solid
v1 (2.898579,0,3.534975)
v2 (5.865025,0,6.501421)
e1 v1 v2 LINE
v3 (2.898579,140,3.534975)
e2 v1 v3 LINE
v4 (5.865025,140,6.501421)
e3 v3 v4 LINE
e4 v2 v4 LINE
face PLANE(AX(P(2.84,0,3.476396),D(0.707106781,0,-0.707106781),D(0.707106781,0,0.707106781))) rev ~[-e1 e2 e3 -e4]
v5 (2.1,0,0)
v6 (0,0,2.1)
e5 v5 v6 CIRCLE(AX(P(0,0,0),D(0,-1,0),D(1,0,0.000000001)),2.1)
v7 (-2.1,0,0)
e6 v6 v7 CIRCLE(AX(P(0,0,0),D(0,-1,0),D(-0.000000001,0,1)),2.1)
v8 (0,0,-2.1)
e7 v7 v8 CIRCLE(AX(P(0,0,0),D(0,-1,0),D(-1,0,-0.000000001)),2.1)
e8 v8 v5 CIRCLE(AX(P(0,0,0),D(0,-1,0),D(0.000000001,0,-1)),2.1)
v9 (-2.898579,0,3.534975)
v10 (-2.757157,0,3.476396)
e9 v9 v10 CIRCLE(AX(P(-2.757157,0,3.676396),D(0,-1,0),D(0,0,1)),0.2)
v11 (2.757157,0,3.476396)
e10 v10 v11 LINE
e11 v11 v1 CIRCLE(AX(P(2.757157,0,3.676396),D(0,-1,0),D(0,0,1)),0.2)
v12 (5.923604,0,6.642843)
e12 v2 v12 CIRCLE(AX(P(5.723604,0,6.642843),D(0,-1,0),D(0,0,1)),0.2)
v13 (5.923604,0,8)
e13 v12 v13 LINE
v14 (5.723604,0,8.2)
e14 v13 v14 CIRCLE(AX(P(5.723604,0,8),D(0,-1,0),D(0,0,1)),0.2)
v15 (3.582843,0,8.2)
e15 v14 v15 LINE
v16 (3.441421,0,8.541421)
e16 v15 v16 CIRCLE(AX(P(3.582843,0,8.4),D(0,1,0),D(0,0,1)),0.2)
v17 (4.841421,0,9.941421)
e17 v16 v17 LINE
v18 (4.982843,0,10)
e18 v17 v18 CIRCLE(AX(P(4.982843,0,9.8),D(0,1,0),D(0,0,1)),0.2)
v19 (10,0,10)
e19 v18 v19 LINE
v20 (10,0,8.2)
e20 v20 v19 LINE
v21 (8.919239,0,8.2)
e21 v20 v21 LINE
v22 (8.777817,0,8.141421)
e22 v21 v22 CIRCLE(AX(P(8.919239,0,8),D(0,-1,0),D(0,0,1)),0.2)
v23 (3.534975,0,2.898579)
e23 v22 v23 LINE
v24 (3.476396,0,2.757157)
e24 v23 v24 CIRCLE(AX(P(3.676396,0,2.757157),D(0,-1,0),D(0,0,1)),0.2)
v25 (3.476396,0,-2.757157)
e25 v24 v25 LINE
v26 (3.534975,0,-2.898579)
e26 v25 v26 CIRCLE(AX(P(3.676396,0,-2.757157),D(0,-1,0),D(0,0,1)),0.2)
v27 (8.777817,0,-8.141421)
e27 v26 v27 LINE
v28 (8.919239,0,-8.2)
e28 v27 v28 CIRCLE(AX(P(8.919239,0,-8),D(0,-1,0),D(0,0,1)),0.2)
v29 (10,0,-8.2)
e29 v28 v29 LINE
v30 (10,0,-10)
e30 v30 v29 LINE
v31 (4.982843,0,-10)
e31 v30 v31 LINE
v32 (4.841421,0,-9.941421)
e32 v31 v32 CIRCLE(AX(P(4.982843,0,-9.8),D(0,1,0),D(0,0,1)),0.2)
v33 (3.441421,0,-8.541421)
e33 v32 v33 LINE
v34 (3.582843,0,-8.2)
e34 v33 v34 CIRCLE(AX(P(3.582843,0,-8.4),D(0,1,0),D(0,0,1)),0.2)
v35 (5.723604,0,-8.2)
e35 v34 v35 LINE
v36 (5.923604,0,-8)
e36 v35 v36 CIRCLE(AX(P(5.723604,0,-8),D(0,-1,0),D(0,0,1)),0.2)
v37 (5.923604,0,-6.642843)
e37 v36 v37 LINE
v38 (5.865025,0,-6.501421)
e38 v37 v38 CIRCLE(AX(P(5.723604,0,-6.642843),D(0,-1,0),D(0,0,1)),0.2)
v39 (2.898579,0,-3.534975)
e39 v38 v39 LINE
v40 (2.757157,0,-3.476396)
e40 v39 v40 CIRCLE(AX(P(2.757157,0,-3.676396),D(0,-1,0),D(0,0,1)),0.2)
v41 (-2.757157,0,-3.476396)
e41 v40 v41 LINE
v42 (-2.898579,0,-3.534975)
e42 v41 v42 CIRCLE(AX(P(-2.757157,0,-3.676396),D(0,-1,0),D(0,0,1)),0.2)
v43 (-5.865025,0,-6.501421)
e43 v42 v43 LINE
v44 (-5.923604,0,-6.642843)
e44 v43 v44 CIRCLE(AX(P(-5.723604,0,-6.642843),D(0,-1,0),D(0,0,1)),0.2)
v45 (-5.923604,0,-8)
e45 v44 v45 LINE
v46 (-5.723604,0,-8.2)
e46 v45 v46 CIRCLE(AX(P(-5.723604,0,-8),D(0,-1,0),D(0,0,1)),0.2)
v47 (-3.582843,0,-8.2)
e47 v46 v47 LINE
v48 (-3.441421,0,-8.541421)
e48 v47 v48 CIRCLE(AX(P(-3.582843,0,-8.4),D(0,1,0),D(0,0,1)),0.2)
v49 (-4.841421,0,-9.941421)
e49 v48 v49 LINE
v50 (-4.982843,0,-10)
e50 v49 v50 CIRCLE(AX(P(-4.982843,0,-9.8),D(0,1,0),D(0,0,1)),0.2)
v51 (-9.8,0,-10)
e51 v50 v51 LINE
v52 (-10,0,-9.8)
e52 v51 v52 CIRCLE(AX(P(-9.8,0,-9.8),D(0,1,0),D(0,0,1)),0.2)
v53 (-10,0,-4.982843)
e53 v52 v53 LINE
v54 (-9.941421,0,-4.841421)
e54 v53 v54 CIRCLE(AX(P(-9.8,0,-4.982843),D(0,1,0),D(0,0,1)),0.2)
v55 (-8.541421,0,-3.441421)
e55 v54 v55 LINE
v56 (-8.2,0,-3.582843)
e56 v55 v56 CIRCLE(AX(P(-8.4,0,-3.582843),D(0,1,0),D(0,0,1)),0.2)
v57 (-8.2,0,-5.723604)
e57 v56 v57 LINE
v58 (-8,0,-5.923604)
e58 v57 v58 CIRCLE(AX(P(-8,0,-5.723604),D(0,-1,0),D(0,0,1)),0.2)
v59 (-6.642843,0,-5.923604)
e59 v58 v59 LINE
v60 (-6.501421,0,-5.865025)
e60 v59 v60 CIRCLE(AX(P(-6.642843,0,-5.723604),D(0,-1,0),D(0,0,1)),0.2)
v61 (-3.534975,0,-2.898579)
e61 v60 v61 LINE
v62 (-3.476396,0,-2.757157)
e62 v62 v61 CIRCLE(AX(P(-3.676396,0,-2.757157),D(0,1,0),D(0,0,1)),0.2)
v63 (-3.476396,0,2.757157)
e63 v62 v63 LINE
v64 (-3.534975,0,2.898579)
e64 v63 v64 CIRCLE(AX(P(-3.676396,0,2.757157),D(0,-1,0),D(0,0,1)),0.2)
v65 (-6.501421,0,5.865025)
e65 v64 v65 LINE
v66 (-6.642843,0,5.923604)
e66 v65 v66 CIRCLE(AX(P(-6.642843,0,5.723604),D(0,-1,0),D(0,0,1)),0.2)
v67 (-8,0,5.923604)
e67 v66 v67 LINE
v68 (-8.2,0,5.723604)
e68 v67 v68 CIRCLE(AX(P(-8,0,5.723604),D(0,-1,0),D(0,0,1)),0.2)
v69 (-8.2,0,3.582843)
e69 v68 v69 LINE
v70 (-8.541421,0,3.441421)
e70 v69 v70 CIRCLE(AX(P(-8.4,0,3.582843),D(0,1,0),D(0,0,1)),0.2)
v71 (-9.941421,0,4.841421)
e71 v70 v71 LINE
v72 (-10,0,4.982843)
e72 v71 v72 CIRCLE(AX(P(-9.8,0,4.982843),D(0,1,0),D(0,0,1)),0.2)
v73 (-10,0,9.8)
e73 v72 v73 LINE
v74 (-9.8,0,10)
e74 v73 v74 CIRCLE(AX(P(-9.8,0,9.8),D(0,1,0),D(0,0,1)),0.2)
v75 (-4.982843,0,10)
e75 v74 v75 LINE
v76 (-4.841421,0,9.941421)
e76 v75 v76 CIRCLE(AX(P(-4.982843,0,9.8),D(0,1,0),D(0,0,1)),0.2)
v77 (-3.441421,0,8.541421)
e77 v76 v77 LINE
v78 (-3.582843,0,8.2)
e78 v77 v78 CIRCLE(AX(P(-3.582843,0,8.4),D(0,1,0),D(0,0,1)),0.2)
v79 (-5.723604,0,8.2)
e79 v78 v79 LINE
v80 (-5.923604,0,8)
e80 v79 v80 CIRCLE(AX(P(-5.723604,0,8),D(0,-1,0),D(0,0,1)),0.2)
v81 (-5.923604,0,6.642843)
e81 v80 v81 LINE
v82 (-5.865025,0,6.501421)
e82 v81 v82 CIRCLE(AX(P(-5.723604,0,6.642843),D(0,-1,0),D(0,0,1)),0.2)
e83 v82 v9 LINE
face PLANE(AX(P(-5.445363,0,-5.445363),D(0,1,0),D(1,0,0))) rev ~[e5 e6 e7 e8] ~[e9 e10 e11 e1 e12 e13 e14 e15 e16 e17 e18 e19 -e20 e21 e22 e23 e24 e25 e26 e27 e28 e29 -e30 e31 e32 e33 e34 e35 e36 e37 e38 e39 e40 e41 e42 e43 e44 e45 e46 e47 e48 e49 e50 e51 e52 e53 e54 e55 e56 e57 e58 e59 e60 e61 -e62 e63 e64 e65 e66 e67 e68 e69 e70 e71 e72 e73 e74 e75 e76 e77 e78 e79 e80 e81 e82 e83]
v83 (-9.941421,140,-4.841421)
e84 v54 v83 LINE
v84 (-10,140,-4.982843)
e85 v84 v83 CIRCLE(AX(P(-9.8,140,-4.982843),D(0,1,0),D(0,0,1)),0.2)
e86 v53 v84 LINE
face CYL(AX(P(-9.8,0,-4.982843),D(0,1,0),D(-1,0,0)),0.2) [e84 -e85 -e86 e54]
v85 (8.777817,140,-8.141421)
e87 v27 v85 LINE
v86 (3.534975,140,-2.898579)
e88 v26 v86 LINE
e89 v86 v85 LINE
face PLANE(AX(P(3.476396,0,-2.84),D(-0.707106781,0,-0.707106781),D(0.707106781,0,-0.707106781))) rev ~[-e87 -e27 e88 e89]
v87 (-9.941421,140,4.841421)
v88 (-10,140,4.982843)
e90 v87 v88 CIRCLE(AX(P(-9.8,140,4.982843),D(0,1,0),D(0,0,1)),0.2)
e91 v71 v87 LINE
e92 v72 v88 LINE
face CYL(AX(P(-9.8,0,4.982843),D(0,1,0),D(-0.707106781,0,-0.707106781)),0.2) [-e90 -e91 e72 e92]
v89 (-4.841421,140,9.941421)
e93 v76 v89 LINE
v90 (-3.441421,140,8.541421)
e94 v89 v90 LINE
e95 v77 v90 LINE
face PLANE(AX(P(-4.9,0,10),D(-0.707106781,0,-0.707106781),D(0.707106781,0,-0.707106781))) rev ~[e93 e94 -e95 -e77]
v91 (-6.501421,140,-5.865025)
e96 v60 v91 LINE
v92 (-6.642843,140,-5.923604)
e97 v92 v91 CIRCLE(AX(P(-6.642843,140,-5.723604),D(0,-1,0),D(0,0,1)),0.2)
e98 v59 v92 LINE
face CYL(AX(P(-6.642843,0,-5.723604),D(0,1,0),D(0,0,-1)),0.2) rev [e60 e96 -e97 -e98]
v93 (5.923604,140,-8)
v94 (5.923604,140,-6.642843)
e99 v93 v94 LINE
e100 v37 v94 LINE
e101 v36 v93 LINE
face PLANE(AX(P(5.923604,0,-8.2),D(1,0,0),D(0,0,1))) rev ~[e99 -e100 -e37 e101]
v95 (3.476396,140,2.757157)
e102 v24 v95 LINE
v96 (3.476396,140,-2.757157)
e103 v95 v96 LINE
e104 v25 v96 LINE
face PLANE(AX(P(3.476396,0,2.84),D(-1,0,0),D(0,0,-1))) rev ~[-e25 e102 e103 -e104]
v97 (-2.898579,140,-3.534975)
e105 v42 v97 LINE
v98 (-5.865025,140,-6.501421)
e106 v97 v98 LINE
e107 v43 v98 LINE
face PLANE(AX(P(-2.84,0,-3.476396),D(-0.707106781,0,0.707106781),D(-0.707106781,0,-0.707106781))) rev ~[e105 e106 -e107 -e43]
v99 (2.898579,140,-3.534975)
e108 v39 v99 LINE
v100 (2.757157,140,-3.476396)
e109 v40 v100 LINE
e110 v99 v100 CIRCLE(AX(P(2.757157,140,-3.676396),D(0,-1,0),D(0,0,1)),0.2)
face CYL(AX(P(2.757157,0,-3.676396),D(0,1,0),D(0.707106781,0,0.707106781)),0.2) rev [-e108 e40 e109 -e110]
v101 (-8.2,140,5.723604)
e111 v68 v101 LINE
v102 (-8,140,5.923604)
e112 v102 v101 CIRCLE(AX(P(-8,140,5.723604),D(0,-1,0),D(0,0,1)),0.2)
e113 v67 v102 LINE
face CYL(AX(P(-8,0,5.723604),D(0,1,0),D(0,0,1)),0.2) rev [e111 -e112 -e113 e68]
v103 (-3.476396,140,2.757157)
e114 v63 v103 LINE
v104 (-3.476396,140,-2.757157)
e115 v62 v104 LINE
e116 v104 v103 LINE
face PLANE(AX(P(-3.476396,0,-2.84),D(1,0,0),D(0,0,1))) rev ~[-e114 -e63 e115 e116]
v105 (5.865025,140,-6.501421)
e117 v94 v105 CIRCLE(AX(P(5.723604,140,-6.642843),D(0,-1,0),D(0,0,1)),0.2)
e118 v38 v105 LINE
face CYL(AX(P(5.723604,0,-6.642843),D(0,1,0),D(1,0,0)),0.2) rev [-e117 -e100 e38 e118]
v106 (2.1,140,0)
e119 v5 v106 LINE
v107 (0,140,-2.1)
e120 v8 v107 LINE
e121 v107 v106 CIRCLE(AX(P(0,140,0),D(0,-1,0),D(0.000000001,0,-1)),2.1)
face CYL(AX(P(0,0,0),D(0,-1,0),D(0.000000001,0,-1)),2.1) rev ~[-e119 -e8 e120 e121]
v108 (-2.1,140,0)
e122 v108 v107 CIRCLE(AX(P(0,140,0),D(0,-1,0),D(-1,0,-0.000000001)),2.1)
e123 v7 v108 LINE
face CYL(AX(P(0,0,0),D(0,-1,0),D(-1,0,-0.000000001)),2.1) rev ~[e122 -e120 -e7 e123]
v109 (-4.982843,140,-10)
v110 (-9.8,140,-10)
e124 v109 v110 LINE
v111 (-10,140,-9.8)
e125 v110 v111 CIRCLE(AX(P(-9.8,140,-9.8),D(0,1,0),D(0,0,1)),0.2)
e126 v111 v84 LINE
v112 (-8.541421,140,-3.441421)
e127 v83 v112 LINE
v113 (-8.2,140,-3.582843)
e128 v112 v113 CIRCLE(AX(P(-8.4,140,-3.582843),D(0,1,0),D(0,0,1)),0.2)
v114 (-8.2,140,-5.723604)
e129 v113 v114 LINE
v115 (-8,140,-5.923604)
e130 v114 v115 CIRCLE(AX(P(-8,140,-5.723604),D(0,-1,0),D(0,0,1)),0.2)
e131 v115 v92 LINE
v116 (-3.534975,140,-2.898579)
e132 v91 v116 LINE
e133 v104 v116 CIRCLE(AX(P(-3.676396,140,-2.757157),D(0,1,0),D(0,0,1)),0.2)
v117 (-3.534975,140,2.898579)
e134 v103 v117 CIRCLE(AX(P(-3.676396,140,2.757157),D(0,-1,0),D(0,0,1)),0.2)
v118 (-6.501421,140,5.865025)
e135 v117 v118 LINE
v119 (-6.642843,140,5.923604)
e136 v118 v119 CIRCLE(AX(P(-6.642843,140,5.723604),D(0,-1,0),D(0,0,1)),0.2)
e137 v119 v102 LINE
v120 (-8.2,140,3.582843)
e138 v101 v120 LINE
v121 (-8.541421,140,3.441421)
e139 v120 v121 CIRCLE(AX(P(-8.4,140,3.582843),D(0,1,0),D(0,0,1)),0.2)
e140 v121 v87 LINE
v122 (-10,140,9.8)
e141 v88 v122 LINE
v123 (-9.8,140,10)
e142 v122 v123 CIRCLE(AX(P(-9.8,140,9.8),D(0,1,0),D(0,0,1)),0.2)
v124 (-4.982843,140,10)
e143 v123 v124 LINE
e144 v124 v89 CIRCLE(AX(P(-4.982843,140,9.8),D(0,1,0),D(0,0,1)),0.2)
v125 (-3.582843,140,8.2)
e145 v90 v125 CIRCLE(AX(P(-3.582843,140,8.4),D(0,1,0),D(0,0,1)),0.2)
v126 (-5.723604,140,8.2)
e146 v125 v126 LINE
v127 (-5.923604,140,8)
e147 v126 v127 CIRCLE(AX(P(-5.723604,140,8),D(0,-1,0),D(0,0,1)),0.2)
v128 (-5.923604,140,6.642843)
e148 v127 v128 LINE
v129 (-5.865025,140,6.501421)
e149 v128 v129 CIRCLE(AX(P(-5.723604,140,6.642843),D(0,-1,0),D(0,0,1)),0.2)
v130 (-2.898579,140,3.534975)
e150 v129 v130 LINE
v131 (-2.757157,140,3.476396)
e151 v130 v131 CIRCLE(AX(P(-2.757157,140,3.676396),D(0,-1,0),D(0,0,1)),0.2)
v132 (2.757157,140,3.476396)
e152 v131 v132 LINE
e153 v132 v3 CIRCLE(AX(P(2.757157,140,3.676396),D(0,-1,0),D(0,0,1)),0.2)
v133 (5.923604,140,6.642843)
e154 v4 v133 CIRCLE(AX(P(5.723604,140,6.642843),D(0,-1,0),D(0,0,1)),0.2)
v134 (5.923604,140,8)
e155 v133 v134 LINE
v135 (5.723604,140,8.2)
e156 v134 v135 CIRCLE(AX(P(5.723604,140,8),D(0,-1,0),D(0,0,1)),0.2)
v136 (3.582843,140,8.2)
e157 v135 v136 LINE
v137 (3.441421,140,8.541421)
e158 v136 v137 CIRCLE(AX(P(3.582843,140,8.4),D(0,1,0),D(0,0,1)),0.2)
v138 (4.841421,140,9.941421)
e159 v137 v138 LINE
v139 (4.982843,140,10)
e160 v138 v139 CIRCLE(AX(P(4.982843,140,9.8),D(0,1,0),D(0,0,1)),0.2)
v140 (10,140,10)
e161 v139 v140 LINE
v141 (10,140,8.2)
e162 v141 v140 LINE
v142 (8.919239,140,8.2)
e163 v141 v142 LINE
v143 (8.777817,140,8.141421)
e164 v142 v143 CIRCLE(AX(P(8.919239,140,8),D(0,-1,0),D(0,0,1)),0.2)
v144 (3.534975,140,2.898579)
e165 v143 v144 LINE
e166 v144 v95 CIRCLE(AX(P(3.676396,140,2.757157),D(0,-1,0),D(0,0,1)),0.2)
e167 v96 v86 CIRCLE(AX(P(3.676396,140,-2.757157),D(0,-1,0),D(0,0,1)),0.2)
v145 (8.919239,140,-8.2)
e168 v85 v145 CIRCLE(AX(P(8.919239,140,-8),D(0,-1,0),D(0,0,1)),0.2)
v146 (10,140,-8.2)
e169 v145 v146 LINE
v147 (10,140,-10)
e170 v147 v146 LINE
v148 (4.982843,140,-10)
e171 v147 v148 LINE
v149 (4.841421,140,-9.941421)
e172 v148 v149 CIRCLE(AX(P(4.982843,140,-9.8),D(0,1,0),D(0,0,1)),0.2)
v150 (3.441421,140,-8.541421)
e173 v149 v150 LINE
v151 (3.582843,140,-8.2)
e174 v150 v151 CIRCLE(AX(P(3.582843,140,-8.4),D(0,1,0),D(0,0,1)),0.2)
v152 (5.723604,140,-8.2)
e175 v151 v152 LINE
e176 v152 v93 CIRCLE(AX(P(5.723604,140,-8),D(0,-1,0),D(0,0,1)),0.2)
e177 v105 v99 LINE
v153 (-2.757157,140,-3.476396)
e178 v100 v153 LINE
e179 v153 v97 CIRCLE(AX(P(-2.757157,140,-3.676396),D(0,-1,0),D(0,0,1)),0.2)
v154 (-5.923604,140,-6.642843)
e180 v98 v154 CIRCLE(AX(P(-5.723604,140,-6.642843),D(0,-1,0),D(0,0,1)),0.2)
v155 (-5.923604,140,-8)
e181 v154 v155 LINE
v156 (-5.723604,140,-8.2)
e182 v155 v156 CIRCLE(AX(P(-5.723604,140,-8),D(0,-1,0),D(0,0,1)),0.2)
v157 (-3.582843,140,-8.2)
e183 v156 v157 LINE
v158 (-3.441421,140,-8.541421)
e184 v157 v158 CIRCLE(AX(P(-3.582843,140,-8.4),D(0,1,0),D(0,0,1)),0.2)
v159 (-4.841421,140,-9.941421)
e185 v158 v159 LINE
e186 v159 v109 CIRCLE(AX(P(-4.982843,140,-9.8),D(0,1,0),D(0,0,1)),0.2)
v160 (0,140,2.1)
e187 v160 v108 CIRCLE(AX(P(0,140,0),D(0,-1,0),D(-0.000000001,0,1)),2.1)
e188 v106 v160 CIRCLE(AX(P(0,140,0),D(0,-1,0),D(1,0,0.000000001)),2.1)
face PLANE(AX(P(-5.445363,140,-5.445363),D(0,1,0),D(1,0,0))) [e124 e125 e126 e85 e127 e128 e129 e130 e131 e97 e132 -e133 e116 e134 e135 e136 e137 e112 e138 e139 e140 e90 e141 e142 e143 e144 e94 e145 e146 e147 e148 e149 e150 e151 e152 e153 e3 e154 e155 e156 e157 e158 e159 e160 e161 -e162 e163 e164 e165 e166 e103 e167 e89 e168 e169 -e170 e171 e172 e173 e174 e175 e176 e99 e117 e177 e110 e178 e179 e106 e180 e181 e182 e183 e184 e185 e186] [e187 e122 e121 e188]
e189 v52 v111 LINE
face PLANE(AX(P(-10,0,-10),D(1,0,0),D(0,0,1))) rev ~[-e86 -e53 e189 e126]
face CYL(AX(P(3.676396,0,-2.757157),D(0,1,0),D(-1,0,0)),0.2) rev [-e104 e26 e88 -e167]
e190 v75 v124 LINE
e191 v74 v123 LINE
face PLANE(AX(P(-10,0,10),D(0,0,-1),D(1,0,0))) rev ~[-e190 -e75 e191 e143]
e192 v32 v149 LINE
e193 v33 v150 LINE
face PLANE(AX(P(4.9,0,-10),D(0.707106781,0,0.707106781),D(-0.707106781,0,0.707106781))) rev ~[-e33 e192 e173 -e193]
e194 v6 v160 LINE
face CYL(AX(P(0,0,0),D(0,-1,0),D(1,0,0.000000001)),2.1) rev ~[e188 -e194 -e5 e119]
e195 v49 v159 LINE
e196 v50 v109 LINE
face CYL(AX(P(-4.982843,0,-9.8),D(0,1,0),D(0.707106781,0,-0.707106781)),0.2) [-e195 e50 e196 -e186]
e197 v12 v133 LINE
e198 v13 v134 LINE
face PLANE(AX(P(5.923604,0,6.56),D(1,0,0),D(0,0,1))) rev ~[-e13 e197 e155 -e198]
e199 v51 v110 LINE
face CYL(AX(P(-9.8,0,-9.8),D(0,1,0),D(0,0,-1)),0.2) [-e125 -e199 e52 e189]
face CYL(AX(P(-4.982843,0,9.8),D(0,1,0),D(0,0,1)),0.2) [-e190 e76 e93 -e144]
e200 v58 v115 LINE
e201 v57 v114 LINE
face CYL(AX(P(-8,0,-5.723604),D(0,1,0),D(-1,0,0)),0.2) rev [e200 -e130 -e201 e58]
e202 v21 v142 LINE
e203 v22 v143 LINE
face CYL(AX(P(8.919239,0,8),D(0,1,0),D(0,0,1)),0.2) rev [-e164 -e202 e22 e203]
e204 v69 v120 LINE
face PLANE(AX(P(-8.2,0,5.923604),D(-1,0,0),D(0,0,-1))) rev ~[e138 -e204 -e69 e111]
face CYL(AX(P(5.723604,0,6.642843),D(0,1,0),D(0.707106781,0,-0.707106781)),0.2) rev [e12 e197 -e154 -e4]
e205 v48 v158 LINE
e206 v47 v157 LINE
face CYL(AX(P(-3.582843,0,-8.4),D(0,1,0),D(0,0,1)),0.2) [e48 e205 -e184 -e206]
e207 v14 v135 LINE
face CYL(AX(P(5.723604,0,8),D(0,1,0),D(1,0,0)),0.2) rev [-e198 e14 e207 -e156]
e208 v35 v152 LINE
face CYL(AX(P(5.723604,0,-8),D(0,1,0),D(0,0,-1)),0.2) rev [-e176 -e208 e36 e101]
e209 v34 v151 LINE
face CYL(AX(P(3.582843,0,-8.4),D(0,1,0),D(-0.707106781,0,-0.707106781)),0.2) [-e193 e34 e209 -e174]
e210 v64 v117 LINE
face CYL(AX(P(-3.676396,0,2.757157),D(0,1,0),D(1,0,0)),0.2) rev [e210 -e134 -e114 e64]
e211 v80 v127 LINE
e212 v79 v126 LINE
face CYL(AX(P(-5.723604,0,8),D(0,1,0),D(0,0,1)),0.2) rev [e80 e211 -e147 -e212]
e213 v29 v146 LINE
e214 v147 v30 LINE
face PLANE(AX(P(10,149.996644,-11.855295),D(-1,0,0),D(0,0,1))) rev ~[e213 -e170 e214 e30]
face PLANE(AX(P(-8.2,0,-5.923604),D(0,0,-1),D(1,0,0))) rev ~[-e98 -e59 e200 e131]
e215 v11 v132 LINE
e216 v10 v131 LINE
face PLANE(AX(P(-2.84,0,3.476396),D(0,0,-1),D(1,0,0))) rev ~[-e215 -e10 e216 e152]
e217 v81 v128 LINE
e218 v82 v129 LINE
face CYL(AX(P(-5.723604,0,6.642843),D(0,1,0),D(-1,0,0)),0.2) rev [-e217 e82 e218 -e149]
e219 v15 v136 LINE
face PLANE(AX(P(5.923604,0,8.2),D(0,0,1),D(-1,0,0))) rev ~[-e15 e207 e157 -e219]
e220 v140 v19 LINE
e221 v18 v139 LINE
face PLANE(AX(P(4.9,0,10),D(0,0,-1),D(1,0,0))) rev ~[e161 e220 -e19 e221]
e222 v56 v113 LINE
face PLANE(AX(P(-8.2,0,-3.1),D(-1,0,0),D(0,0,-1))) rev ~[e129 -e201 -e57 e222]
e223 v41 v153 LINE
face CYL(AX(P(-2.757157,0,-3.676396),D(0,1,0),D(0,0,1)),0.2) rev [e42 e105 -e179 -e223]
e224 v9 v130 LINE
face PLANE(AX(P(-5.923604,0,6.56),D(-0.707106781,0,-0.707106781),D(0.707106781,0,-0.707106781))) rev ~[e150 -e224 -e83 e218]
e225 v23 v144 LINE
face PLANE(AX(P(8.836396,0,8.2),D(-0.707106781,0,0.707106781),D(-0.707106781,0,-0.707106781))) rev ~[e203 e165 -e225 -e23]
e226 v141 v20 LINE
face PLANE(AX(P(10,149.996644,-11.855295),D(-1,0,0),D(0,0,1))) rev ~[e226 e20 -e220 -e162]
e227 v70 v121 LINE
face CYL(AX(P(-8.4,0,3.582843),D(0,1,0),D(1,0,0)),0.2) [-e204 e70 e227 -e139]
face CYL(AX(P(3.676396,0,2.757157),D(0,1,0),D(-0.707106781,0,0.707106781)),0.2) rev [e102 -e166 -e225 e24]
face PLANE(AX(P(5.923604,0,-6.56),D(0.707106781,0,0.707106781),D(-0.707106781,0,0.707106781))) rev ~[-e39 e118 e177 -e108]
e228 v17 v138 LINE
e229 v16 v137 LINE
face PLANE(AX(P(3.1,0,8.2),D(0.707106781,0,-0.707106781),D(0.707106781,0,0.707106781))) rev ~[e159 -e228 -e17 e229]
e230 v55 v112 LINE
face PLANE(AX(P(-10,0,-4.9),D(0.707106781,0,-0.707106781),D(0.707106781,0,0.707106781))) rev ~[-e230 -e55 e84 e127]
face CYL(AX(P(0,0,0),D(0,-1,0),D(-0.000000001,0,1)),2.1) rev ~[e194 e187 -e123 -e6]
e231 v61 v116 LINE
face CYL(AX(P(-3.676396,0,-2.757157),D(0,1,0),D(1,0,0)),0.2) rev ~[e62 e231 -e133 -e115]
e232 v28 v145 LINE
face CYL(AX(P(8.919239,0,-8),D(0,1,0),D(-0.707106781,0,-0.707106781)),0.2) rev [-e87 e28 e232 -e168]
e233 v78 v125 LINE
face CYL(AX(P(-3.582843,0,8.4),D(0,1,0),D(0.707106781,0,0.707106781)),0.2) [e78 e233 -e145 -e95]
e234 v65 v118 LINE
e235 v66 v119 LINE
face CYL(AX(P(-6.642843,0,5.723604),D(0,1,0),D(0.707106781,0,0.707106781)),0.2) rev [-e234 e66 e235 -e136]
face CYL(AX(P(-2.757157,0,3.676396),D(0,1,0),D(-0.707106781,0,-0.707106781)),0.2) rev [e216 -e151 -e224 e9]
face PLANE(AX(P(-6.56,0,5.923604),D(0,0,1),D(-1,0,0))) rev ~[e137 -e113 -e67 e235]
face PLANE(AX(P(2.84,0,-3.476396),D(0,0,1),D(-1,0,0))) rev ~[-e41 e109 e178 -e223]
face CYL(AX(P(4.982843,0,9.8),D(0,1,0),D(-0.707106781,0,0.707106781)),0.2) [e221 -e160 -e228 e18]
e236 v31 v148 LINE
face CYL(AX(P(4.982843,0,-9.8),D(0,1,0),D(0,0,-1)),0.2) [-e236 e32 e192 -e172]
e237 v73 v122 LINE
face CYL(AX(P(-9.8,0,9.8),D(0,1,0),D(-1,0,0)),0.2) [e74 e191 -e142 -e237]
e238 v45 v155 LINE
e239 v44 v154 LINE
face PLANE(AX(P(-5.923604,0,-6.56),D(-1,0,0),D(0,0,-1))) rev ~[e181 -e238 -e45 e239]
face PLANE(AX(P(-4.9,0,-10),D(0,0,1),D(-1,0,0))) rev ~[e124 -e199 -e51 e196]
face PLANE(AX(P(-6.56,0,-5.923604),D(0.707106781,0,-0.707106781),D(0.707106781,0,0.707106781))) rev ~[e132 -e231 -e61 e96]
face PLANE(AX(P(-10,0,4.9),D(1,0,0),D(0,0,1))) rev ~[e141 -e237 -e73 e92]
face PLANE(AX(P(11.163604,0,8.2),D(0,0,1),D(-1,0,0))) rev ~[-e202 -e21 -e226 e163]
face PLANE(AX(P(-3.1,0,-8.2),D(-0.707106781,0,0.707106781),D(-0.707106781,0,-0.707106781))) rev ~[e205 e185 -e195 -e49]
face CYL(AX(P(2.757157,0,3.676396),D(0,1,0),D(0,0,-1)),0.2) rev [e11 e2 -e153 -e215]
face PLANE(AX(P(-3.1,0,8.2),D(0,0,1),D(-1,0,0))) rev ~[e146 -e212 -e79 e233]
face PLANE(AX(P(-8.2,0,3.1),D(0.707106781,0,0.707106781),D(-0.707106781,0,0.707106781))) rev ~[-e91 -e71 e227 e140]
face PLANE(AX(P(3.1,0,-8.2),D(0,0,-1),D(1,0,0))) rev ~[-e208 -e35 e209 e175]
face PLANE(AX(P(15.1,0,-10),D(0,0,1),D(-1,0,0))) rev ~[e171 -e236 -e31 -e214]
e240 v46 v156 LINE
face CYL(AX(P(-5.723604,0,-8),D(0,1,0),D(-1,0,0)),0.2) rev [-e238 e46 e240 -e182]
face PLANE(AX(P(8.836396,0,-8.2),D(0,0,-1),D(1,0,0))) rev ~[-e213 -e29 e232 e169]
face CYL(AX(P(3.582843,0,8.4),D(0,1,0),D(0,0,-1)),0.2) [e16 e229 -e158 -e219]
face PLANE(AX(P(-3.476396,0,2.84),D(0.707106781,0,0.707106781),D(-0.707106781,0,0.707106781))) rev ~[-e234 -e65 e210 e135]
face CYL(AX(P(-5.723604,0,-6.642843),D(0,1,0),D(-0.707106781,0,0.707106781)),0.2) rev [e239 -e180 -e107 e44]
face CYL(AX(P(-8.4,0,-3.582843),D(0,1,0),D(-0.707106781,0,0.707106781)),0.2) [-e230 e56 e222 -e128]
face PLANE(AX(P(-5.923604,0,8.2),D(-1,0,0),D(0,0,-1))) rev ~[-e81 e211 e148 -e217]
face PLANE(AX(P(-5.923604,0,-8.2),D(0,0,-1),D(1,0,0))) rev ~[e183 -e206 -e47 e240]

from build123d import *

# Parameters (mm, degrees)
EXTRUDE_1_DEPTH          = 140
FILLET_1_R               = 0.2
CUT_EXTRUDE_1_DEPTH      = 149.996644258
CUT_EXTRUDE_1_DEPTH_BACK = 149.996644258
SKETCH_2_W               = 41.416635457
SKETCH_2_H               = 21.85529521


with BuildPart() as part:
    # 草图1 → 凸台-拉伸1 (new body)
    with BuildSketch(Plane(origin=(0, 0, 0), x_dir=(1, 0, 0), z_dir=(0, 1, 0))):
        with BuildLine():
            Line((-3.476396103, 2.84), (-3.476396103, 0))
            Line((-3.476396103, 0), (-2.1, 0))
            ThreePointArc((-2.1, 0), (-1.48492424, 1.48492424), (0, 2.1))
            Line((0, 2.1), (0, 3.476396103))
            Line((0, 3.476396103), (-2.84, 3.476396103))
            Line((-2.84, 3.476396103), (-5.923603897, 6.56))
            Line((-5.923603897, 6.56), (-5.923603897, 8.2))
            Line((-5.923603897, 8.2), (-3.1, 8.2))
            Line((-3.1, 8.2), (-4.9, 10))
            Line((-4.9, 10), (-10, 10))
            Line((-10, 10), (-10, 4.9))
            Line((-10, 4.9), (-8.2, 3.1))
            Line((-8.2, 3.1), (-8.2, 5.923603897))
            Line((-8.2, 5.923603897), (-6.56, 5.923603897))
            Line((-6.56, 5.923603897), (-3.476396103, 2.84))
        make_face()
        with BuildLine():
            Line((-2.1, 0), (-3.476396103, 0))
            Line((-3.476396103, 0), (-3.476396103, -2.84))
            Line((-3.476396103, -2.84), (-6.56, -5.923603897))
            Line((-6.56, -5.923603897), (-8.2, -5.923603897))
            Line((-8.2, -5.923603897), (-8.2, -3.1))
            Line((-8.2, -3.1), (-10, -4.9))
            Line((-10, -4.9), (-10, -10))
            Line((-10, -10), (-4.9, -10))
            Line((-4.9, -10), (-3.1, -8.2))
            Line((-3.1, -8.2), (-5.923603897, -8.2))
            Line((-5.923603897, -8.2), (-5.923603897, -6.56))
            Line((-5.923603897, -6.56), (-2.84, -3.476396103))
            Line((-2.84, -3.476396103), (0, -3.476396103))
            Line((0, -3.476396103), (0, -2.1))
            ThreePointArc((0, -2.1), (-1.48492424, -1.48492424), (-2.1, 0))
        make_face()
        with BuildLine():
            ThreePointArc((2.1, 0), (1.48492424, -1.48492424), (0, -2.1))
            Line((0, -2.1), (0, -3.476396103))
            Line((0, -3.476396103), (2.84, -3.476396103))
            Line((2.84, -3.476396103), (5.923603897, -6.56))
            Line((5.923603897, -6.56), (5.923603897, -8.2))
            Line((5.923603897, -8.2), (3.1, -8.2))
            Line((3.1, -8.2), (4.9, -10))
            Line((4.9, -10), (15.1, -10))
            Line((15.1, -10), (16.9, -8.2))
            Line((16.9, -8.2), (14.076396103, -8.2))
            Line((14.076396103, -8.2), (14.076396103, -6.56))
            Line((14.076396103, -6.56), (17.16, -3.476396103))
            Line((17.16, -3.476396103), (20, -3.476396103))
            Line((20, -3.476396103), (20, -2.1))
            ThreePointArc((20, -2.1), (18.51507576, -1.48492424), (17.9, 0))
            Line((17.9, 0), (16.523603897, 0))
            Line((16.523603897, 0), (16.523603897, -2.84))
            Line((16.523603897, -2.84), (13.44, -5.923603897))
            Line((13.44, -5.923603897), (11.163603897, -8.2))
            Line((11.163603897, -8.2), (8.836396103, -8.2))
            Line((8.836396103, -8.2), (6.56, -5.923603897))
            Line((6.56, -5.923603897), (3.476396103, -2.84))
            Line((3.476396103, -2.84), (3.476396103, 0))
            Line((3.476396103, 0), (2.1, 0))
        make_face()
        with BuildLine():
            Line((0, 3.476396103), (0, 2.1))
            ThreePointArc((0, 2.1), (1.48492424, 1.48492424), (2.1, 0))
            Line((2.1, 0), (3.476396103, 0))
            Line((3.476396103, 0), (3.476396103, 2.84))
            Line((3.476396103, 2.84), (6.56, 5.923603897))
            Line((6.56, 5.923603897), (8.836396103, 8.2))
            Line((8.836396103, 8.2), (11.163603897, 8.2))
            Line((11.163603897, 8.2), (13.44, 5.923603897))
            Line((13.44, 5.923603897), (16.523603897, 2.84))
            Line((16.523603897, 2.84), (16.523603897, 0))
            Line((16.523603897, 0), (17.9, 0))
            ThreePointArc((17.9, 0), (18.51507576, 1.48492424), (20, 2.1))
            Line((20, 2.1), (20, 3.476396103))
            Line((20, 3.476396103), (17.16, 3.476396103))
            Line((17.16, 3.476396103), (14.076396103, 6.56))
            Line((14.076396103, 6.56), (14.076396103, 8.2))
            Line((14.076396103, 8.2), (16.9, 8.2))
            Line((16.9, 8.2), (15.1, 10))
            Line((15.1, 10), (4.9, 10))
            Line((4.9, 10), (3.1, 8.2))
            Line((3.1, 8.2), (5.923603897, 8.2))
            Line((5.923603897, 8.2), (5.923603897, 6.56))
            Line((5.923603897, 6.56), (2.84, 3.476396103))
            Line((2.84, 3.476396103), (0, 3.476396103))
        make_face()
        with BuildLine():
            Line((20, 3.476396103), (20, 2.1))
            ThreePointArc((20, 2.1), (21.48492424, 1.48492424), (22.1, 0))
            Line((22.1, 0), (23.476396103, 0))
            Line((23.476396103, 0), (23.476396103, 2.84))
            Line((23.476396103, 2.84), (26.56, 5.923603897))
            Line((26.56, 5.923603897), (28.836396103, 8.2))
            Line((28.836396103, 8.2), (31.163603897, 8.2))
            Line((31.163603897, 8.2), (33.44, 5.923603897))
            Line((33.44, 5.923603897), (36.523603897, 2.84))
            Line((36.523603897, 2.84), (36.523603897, 0))
            Line((36.523603897, 0), (37.9, 0))
            ThreePointArc((37.9, 0), (40, 2.1), (42.1, 0))
            Line((42.1, 0), (43.476396103, 0))
            Line((43.476396103, 0), (43.476396103, 2.84))
            Line((43.476396103, 2.84), (46.56, 5.923603897))
            Line((46.56, 5.923603897), (48.2, 5.923603897))
            Line((48.2, 5.923603897), (48.2, 3.1))
            Line((48.2, 3.1), (50, 4.9))
            Line((50, 4.9), (50, 10))
            Line((50, 10), (44.9, 10))
            Line((44.9, 10), (43.1, 8.2))
            Line((43.1, 8.2), (45.923603897, 8.2))
            Line((45.923603897, 8.2), (45.923603897, 6.56))
            Line((45.923603897, 6.56), (42.84, 3.476396103))
            Line((42.84, 3.476396103), (37.16, 3.476396103))
            Line((37.16, 3.476396103), (34.076396103, 6.56))
            Line((34.076396103, 6.56), (34.076396103, 8.2))
            Line((34.076396103, 8.2), (36.9, 8.2))
            Line((36.9, 8.2), (35.1, 10))
            Line((35.1, 10), (24.9, 10))
            Line((24.9, 10), (23.1, 8.2))
            Line((23.1, 8.2), (25.923603897, 8.2))
            Line((25.923603897, 8.2), (25.923603897, 6.56))
            Line((25.923603897, 6.56), (22.84, 3.476396103))
            Line((22.84, 3.476396103), (20, 3.476396103))
        make_face()
        with BuildLine():
            ThreePointArc((22.1, 0), (21.48492424, -1.48492424), (20, -2.1))
            Line((20, -2.1), (20, -3.476396103))
            Line((20, -3.476396103), (22.84, -3.476396103))
            Line((22.84, -3.476396103), (25.923603897, -6.56))
            Line((25.923603897, -6.56), (25.923603897, -8.2))
            Line((25.923603897, -8.2), (23.1, -8.2))
            Line((23.1, -8.2), (24.9, -10))
            Line((24.9, -10), (35.1, -10))
            Line((35.1, -10), (36.9, -8.2))
            Line((36.9, -8.2), (34.076396103, -8.2))
            Line((34.076396103, -8.2), (34.076396103, -6.56))
            Line((34.076396103, -6.56), (37.16, -3.476396103))
            Line((37.16, -3.476396103), (42.84, -3.476396103))
            Line((42.84, -3.476396103), (45.923603897, -6.56))
            Line((45.923603897, -6.56), (45.923603897, -8.2))
            Line((45.923603897, -8.2), (43.1, -8.2))
            Line((43.1, -8.2), (44.9, -10))
            Line((44.9, -10), (50, -10))
            Line((50, -10), (50, -4.9))
            Line((50, -4.9), (48.2, -3.1))
            Line((48.2, -3.1), (48.2, -5.923603897))
            Line((48.2, -5.923603897), (46.56, -5.923603897))
            Line((46.56, -5.923603897), (43.476396103, -2.84))
            Line((43.476396103, -2.84), (43.476396103, 0))
            Line((43.476396103, 0), (42.1, 0))
            ThreePointArc((42.1, 0), (40, -2.1), (37.9, 0))
            Line((37.9, 0), (36.523603897, 0))
            Line((36.523603897, 0), (36.523603897, -2.84))
            Line((36.523603897, -2.84), (33.44, -5.923603897))
            Line((33.44, -5.923603897), (31.163603897, -8.2))
            Line((31.163603897, -8.2), (28.836396103, -8.2))
            Line((28.836396103, -8.2), (26.56, -5.923603897))
            Line((26.56, -5.923603897), (23.476396103, -2.84))
            Line((23.476396103, -2.84), (23.476396103, 0))
            Line((23.476396103, 0), (22.1, 0))
        make_face()
    extrude(amount=EXTRUDE_1_DEPTH)

    # 圆角1
    fillet_1_edges = [part.edges().sort_by_distance(p)[0] for p in [
        (8.836396103, 70, 8.2),
        (11.163603897, 70, 8.2),
        (16.523603897, 70, 2.84),
        (16.523603897, 70, -2.84),
        (11.163603897, 70, -8.2),
        (8.836396103, 70, -8.2),
        (3.476396103, 70, -2.84),
        (3.476396103, 70, 2.84),
        (28.836396103, 70, 8.2),
        (31.163603897, 70, 8.2),
        (36.523603897, 70, 2.84),
        (36.523603897, 70, -2.84),
        (31.163603897, 70, -8.2),
        (28.836396103, 70, -8.2),
        (23.476396103, 70, -2.84),
        (23.476396103, 70, 2.84),
        (46.56, 70, 5.923603897),
        (48.2, 70, 5.923603897),
        (48.2, 70, 3.1),
        (50, 70, 4.9),
        (50, 70, 10),
        (44.9, 70, 10),
        (43.1, 70, 8.2),
        (45.923603897, 70, 8.2),
        (45.923603897, 70, 6.56),
        (42.84, 70, 3.476396103),
        (37.16, 70, 3.476396103),
        (34.076396103, 70, 6.56),
        (34.076396103, 70, 8.2),
        (36.9, 70, 8.2),
        (35.1, 70, 10),
        (24.9, 70, 10),
        (23.1, 70, 8.2),
        (25.923603897, 70, 8.2),
        (25.923603897, 70, 6.56),
        (22.84, 70, 3.476396103),
        (17.16, 70, 3.476396103),
        (14.076396103, 70, 6.56),
        (14.076396103, 70, 8.2),
        (16.9, 70, 8.2),
        (15.1, 70, 10),
        (4.9, 70, 10),
        (3.1, 70, 8.2),
        (5.923603897, 70, 8.2),
        (5.923603897, 70, 6.56),
        (2.84, 70, 3.476396103),
        (-2.84, 70, 3.476396103),
        (-5.923603897, 70, 6.56),
        (-5.923603897, 70, 8.2),
        (-3.1, 70, 8.2),
        (-4.9, 70, 10),
        (-10, 70, 10),
        (-10, 70, 4.9),
        (-8.2, 70, 3.1),
        (-8.2, 70, 5.923603897),
        (-6.56, 70, 5.923603897),
        (-3.476396103, 70, 2.84),
        (-3.476396103, 70, -2.84),
        (-6.56, 70, -5.923603897),
        (-8.2, 70, -5.923603897),
        (-8.2, 70, -3.1),
        (-10, 70, -4.9),
        (-10, 70, -10),
        (-4.9, 70, -10),
        (-3.1, 70, -8.2),
        (-5.923603897, 70, -8.2),
        (-5.923603897, 70, -6.56),
        (-2.84, 70, -3.476396103),
        (2.84, 70, -3.476396103),
        (5.923603897, 70, -6.56),
        (5.923603897, 70, -8.2),
        (3.1, 70, -8.2),
        (4.9, 70, -10),
        (15.1, 70, -10),
        (16.9, 70, -8.2),
        (14.076396103, 70, -8.2),
        (14.076396103, 70, -6.56),
        (17.16, 70, -3.476396103),
        (22.84, 70, -3.476396103),
        (25.923603897, 70, -6.56),
        (25.923603897, 70, -8.2),
        (23.1, 70, -8.2),
        (24.9, 70, -10),
        (35.1, 70, -10),
        (36.9, 70, -8.2),
        (34.076396103, 70, -8.2),
        (34.076396103, 70, -6.56),
        (37.16, 70, -3.476396103),
        (42.84, 70, -3.476396103),
        (45.923603897, 70, -6.56),
        (45.923603897, 70, -8.2),
        (43.1, 70, -8.2),
        (44.9, 70, -10),
        (50, 70, -10),
        (50, 70, -4.9),
        (48.2, 70, -3.1),
        (48.2, 70, -5.923603897),
        (46.56, 70, -5.923603897),
        (43.476396103, 70, -2.84),
        (43.476396103, 70, 2.84),
    ]]
    fillet(fillet_1_edges, radius=FILLET_1_R)

    # 草图2 → 切除-拉伸1 (cut, two sides: drawn at the far end of the back side and taken through both)
    with BuildSketch(Plane.XZ.offset(-CUT_EXTRUDE_1_DEPTH_BACK)):
        with Locations((30.708317729, -0.927647605)):
            Rectangle(SKETCH_2_W, SKETCH_2_H)
    extrude(amount=CUT_EXTRUDE_1_DEPTH + CUT_EXTRUDE_1_DEPTH_BACK, mode=Mode.SUBTRACT)


solid = part.part
